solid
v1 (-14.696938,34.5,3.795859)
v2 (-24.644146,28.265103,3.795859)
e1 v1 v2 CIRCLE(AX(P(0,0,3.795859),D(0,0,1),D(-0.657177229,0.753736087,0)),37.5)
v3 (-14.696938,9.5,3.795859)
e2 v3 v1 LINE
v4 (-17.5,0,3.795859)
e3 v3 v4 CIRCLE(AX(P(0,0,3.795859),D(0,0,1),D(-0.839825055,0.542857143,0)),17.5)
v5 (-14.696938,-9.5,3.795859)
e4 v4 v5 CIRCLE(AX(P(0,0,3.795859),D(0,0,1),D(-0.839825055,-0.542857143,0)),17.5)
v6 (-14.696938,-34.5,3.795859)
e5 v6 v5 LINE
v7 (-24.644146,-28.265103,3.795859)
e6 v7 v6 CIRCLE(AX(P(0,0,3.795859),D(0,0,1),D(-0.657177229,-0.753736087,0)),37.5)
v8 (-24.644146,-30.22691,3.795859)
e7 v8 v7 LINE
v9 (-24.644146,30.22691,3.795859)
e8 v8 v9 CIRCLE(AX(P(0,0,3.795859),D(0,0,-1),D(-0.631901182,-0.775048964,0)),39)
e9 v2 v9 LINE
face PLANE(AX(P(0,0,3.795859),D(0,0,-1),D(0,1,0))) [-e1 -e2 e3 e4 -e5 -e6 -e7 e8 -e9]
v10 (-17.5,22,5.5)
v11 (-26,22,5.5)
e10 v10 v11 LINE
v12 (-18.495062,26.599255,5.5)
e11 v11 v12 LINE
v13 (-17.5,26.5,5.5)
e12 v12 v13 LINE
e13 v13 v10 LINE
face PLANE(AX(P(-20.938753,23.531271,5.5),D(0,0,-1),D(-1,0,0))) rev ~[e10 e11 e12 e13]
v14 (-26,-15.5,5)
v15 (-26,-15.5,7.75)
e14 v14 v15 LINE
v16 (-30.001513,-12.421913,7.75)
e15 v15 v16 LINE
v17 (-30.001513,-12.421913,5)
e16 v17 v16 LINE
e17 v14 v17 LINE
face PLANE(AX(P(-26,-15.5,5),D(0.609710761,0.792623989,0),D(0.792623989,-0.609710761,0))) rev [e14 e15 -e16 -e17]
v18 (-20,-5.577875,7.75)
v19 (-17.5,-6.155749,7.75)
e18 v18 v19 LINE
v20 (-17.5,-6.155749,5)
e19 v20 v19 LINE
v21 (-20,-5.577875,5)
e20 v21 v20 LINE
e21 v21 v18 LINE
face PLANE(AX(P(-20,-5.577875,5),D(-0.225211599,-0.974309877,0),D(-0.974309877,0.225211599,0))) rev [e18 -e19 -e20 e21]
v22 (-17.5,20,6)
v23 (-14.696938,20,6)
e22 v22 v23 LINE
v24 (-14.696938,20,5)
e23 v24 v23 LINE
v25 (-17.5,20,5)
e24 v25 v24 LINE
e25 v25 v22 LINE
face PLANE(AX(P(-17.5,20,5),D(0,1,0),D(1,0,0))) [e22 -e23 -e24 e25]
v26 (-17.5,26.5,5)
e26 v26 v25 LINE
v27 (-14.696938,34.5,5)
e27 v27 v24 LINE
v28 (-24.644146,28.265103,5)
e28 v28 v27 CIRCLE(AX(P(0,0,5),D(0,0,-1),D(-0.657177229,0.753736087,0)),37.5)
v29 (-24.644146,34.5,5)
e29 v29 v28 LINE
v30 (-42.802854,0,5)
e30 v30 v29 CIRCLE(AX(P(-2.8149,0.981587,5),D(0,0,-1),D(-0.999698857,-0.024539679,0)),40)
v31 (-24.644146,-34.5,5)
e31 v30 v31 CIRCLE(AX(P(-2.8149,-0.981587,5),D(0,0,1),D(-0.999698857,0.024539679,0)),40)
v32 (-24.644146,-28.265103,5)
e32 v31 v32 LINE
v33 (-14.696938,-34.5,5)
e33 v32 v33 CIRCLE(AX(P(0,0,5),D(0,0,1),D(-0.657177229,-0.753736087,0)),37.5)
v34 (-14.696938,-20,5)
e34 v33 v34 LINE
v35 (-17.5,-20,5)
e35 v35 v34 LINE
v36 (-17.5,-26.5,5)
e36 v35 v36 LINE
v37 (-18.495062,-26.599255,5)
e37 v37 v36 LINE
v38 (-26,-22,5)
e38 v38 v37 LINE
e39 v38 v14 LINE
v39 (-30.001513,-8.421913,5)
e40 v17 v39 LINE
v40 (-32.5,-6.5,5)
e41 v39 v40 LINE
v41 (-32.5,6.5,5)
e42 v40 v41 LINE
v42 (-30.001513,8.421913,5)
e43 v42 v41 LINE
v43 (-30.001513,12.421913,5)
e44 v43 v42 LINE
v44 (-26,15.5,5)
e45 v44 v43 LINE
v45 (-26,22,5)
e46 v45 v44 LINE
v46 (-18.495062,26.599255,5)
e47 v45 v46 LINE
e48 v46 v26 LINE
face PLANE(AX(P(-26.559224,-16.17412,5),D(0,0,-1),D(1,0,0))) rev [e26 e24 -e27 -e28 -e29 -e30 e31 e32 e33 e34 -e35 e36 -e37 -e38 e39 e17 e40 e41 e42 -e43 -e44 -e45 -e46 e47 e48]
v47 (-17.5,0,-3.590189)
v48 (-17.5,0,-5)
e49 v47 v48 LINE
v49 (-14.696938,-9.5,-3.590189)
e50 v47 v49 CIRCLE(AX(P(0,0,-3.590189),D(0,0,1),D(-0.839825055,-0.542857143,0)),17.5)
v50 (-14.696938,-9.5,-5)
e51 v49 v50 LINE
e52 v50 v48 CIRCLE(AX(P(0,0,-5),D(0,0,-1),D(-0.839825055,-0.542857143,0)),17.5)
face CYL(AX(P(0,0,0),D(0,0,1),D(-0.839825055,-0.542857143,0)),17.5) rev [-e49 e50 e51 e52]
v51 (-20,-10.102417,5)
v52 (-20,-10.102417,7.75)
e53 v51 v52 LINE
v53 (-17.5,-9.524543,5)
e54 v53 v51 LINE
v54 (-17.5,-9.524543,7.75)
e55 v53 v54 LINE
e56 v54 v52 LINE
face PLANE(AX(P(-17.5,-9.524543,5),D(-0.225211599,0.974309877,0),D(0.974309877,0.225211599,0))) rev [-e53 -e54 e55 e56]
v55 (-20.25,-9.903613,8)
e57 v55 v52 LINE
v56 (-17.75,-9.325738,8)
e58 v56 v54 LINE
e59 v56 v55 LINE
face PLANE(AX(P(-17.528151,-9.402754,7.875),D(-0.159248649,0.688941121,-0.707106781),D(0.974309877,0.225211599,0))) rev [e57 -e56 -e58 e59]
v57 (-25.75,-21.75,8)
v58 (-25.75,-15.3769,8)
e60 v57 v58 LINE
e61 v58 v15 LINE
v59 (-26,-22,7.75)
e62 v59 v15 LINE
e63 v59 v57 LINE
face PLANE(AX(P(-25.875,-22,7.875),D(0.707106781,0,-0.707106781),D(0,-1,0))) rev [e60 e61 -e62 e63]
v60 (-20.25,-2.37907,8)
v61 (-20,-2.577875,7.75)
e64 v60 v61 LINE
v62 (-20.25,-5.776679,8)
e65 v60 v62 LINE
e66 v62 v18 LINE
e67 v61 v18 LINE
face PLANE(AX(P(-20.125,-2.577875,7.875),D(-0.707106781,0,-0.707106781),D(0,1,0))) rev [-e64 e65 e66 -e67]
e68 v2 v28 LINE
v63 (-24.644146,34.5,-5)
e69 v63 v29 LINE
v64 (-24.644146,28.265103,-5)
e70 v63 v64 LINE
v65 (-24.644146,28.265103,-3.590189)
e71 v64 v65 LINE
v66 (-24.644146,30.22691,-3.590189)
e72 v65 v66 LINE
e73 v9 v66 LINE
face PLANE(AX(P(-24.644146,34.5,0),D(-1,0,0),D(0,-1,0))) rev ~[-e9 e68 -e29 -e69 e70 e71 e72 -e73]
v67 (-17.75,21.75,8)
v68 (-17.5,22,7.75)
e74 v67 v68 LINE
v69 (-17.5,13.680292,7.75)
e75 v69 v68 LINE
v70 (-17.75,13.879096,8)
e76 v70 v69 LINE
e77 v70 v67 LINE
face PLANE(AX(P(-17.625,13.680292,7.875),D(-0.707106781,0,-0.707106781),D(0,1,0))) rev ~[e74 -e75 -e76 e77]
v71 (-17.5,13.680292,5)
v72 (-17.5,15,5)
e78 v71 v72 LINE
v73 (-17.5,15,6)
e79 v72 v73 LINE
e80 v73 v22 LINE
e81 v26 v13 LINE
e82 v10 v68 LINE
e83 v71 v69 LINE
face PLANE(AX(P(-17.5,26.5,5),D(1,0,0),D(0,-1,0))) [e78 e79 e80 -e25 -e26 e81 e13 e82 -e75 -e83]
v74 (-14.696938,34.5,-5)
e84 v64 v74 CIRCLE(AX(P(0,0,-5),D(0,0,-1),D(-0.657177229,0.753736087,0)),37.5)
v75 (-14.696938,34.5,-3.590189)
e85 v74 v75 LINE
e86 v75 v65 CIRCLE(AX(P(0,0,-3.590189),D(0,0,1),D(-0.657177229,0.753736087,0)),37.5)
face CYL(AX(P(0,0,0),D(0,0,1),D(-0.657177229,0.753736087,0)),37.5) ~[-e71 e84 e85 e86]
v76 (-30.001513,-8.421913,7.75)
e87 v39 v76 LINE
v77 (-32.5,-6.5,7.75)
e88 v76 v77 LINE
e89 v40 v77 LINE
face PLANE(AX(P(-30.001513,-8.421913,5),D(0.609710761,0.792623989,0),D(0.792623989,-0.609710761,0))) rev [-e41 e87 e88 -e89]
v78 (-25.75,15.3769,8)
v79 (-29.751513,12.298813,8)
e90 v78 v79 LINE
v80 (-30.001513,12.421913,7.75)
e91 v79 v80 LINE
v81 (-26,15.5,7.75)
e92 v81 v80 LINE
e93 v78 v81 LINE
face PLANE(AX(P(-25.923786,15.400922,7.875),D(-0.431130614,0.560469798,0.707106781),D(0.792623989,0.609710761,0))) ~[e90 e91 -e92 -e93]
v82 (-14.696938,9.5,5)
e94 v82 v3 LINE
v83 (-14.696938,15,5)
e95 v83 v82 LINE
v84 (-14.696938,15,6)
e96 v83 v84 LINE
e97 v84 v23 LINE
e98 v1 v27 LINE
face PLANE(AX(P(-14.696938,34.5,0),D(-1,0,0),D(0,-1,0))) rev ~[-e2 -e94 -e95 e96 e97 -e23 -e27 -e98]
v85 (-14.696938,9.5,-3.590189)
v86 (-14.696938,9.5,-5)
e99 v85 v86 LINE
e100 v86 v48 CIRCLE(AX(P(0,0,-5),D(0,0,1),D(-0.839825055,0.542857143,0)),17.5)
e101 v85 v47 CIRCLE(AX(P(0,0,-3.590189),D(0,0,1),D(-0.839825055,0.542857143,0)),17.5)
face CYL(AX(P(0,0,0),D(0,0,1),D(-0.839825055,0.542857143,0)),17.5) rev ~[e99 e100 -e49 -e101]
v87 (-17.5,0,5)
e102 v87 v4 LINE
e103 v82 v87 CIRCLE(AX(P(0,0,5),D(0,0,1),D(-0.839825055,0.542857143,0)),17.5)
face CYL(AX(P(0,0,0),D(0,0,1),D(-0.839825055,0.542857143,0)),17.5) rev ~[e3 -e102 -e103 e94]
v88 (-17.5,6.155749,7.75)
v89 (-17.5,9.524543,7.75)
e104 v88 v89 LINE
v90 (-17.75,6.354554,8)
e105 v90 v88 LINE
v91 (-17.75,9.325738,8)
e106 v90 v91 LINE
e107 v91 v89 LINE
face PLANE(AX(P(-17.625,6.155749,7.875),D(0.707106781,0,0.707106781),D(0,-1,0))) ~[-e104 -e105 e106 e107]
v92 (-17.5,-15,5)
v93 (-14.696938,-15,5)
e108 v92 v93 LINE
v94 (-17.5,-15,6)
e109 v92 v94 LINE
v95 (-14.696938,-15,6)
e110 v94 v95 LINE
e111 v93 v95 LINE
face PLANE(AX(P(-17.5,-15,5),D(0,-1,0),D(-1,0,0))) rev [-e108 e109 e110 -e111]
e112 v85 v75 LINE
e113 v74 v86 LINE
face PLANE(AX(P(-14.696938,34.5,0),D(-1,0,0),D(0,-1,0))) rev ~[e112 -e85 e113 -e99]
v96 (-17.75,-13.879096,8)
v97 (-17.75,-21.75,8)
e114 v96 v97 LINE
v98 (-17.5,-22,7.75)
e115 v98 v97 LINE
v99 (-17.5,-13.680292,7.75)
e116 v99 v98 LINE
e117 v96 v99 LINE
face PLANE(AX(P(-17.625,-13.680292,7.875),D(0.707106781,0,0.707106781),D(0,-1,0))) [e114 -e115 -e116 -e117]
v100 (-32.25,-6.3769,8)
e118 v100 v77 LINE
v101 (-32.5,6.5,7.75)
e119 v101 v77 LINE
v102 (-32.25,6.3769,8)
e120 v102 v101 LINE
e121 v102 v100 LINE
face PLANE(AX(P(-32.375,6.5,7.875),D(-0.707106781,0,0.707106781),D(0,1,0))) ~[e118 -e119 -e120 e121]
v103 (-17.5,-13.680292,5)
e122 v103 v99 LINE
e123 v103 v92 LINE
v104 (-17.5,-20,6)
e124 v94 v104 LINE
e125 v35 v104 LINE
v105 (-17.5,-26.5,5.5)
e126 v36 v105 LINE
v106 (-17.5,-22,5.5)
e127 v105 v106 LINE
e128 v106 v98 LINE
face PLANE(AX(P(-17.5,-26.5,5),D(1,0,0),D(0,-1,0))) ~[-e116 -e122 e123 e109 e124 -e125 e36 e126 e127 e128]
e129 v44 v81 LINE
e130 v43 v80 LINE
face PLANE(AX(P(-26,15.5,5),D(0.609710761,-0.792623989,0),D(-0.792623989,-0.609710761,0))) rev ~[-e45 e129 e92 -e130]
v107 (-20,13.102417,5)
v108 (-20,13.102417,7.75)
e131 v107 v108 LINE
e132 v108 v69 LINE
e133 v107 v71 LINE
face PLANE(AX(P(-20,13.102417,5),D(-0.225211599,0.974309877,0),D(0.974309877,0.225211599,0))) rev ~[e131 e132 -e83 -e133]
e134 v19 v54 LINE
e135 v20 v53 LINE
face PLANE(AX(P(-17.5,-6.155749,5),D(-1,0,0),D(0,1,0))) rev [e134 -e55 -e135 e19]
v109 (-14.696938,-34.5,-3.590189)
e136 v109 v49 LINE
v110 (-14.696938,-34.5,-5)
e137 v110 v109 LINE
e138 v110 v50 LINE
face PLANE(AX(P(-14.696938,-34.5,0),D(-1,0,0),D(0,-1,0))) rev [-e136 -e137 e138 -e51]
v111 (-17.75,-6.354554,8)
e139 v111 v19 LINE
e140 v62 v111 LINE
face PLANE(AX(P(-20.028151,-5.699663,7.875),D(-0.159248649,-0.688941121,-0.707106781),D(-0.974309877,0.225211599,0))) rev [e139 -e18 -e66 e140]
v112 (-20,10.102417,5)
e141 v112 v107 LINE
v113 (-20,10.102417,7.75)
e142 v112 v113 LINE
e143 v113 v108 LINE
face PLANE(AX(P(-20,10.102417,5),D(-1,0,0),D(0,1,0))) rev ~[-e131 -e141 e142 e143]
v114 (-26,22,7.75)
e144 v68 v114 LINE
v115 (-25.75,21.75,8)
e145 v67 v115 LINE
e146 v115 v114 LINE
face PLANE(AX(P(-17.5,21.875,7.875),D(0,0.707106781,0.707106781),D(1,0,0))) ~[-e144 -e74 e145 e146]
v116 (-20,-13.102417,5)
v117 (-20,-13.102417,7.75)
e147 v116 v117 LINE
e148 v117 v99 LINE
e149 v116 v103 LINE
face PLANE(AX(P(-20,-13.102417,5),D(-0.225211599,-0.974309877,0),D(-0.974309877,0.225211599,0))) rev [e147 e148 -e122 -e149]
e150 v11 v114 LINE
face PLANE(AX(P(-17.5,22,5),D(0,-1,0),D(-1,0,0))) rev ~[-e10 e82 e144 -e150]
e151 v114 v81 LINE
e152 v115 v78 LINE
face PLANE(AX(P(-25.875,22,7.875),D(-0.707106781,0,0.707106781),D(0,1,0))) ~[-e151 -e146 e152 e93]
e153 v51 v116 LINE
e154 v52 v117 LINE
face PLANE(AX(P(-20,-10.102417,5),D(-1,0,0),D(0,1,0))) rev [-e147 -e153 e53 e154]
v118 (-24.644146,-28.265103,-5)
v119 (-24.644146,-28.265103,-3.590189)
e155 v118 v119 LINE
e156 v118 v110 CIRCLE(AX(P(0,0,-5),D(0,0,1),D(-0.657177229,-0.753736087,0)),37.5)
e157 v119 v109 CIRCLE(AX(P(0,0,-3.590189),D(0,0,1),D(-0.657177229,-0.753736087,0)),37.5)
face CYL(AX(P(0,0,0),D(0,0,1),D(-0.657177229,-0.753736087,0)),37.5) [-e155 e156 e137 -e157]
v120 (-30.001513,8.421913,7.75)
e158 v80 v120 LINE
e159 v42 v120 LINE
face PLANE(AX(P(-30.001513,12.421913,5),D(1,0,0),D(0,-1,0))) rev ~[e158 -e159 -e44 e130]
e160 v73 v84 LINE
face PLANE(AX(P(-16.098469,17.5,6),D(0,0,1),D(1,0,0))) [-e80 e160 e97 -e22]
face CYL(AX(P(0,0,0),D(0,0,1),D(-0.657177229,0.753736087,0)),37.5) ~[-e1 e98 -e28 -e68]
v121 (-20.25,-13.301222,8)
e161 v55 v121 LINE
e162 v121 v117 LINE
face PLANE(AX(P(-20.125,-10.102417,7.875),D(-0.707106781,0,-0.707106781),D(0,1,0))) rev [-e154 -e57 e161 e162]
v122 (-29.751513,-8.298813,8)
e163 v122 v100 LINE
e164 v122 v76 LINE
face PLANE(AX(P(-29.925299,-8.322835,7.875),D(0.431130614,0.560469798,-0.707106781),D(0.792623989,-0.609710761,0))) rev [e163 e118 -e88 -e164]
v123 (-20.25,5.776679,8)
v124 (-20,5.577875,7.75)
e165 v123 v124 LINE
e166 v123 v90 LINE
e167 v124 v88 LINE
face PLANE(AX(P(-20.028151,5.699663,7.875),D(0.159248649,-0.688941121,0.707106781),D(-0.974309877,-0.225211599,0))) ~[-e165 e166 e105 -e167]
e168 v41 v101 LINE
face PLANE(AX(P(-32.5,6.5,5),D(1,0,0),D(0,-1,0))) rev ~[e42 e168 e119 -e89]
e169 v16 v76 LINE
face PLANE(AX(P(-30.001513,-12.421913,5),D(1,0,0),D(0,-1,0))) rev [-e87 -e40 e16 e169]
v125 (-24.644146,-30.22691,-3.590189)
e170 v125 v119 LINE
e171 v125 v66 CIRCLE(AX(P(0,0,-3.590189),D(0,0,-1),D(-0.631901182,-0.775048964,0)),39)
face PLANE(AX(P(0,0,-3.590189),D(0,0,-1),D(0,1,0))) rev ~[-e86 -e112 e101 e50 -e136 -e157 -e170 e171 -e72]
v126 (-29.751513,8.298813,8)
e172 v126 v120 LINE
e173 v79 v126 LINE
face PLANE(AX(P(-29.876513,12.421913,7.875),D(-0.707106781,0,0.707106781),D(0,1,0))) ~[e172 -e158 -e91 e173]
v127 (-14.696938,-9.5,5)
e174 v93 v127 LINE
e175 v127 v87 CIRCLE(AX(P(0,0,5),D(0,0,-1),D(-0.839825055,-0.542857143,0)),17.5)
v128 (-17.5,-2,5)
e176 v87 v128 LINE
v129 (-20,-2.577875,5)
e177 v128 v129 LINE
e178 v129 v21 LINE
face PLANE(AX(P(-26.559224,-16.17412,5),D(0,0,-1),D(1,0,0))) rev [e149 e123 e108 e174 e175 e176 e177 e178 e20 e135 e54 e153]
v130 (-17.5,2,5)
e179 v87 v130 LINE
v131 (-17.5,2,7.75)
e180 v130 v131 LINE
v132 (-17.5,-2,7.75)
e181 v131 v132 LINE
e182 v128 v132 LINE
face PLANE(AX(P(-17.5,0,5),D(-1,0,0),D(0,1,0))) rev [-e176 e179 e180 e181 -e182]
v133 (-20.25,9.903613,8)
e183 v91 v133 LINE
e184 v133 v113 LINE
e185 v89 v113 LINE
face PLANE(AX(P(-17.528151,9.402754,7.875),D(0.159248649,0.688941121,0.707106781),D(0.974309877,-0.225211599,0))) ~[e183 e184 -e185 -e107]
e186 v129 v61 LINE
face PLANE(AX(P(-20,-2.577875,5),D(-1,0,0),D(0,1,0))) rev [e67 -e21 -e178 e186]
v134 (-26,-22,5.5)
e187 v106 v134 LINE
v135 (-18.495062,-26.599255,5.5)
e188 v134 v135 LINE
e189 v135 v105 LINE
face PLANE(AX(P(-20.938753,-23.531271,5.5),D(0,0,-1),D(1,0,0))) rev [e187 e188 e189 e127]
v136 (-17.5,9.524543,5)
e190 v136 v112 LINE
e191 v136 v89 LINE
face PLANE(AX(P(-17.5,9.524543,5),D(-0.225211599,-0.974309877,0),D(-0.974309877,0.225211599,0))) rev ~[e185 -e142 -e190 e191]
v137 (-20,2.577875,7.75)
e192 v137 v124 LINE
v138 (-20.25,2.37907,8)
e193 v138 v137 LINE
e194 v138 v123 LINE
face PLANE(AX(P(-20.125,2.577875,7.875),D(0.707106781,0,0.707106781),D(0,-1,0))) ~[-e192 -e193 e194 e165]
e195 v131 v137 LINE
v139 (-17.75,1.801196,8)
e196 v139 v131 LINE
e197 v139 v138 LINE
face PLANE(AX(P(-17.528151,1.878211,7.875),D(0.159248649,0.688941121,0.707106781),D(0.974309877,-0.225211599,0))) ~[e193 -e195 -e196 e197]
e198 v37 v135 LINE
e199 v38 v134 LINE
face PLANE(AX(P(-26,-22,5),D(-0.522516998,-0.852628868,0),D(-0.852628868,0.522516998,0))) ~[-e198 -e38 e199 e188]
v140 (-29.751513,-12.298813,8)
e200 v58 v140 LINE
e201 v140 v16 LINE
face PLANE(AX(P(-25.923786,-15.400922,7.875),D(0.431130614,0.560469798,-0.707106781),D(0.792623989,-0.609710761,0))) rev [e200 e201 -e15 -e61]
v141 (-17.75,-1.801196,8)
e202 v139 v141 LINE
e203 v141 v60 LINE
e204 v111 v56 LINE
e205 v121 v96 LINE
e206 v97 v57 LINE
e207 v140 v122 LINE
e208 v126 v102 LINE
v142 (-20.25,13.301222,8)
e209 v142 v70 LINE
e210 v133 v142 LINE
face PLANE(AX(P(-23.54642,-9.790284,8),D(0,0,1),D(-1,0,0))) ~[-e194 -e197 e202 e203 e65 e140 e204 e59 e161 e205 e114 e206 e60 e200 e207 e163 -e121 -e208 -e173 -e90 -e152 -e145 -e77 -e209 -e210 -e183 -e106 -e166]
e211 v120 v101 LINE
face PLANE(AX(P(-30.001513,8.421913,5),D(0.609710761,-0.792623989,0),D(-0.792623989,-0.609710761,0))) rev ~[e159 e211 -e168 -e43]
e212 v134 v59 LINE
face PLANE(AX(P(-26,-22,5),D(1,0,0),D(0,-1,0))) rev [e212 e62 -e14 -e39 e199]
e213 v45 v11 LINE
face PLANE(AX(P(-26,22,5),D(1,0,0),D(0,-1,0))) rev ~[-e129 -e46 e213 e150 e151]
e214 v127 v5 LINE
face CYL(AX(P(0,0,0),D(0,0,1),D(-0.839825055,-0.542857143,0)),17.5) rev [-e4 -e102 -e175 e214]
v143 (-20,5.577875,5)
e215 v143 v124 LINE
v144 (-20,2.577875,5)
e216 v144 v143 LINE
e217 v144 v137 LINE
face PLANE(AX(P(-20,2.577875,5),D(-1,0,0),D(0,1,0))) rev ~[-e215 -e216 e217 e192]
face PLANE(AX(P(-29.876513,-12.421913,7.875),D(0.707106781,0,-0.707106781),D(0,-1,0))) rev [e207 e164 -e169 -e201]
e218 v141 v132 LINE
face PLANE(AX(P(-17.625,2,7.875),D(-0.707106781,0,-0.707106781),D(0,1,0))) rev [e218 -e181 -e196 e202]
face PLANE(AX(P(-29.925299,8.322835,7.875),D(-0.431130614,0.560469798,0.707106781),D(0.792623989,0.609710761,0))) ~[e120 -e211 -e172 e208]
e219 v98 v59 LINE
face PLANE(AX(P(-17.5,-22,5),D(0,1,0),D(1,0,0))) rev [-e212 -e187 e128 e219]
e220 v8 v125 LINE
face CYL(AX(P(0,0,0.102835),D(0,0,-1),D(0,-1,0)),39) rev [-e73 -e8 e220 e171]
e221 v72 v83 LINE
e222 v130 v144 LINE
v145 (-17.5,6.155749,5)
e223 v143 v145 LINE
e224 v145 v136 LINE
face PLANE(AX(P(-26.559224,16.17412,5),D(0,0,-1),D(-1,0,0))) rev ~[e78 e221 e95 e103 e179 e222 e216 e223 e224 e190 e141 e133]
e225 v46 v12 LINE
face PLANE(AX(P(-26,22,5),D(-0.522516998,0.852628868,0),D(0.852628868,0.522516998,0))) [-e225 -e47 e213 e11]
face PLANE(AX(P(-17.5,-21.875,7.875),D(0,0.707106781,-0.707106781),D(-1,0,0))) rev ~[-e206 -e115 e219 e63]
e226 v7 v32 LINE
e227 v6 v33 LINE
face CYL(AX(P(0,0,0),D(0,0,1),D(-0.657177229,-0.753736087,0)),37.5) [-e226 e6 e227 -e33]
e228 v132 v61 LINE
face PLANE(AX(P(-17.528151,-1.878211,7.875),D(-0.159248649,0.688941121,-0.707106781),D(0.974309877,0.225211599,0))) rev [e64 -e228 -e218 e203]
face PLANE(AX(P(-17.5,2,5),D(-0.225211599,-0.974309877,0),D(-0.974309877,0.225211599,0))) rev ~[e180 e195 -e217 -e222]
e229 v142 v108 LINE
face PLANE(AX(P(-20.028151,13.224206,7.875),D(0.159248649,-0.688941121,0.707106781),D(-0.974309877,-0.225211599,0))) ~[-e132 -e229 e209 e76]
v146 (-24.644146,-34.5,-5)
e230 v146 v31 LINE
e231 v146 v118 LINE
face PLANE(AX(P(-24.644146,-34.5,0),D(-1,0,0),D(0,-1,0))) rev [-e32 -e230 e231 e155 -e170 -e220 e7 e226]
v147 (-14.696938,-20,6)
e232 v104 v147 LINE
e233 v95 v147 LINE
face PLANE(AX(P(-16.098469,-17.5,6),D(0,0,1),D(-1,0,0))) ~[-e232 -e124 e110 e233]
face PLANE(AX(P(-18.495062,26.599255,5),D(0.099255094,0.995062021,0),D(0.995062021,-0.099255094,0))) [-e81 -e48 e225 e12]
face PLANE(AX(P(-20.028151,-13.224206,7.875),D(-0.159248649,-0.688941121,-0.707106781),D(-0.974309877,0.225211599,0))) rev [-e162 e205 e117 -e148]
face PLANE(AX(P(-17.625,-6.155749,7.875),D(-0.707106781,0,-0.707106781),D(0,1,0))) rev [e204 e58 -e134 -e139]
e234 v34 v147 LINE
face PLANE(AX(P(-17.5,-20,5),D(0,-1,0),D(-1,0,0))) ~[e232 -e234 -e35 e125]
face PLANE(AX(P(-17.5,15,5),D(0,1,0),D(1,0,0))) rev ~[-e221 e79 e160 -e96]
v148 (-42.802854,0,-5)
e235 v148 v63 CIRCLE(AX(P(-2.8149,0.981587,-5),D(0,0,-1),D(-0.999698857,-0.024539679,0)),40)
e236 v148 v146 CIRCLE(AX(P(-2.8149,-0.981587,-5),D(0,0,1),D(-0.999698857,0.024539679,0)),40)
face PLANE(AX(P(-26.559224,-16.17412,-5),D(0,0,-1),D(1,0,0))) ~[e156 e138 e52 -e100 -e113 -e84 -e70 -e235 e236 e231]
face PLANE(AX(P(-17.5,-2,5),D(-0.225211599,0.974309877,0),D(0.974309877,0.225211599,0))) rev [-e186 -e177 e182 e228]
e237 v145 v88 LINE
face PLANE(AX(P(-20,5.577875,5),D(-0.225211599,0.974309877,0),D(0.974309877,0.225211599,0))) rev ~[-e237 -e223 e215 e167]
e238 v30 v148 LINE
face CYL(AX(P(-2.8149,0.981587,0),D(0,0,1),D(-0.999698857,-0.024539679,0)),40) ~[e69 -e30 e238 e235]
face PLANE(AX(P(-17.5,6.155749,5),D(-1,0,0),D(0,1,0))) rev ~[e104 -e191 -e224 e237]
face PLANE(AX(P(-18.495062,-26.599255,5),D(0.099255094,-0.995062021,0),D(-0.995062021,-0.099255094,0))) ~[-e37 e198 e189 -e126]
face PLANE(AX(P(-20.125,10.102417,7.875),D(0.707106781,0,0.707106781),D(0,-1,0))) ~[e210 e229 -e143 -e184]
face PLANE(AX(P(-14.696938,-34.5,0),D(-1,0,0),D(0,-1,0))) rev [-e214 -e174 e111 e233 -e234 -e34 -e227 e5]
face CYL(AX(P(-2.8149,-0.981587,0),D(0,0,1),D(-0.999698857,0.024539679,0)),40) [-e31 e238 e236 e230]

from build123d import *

# Parameters (mm, degrees)
BOSS_EXTRUDE1_DEPTH = 5
BOSS_EXTRUDE2_DEPTH = 3
SKETCH3_W           = 2.803061543
SKETCH3_H           = 5
BOSS_EXTRUDE3_DEPTH = 1
BOSS_EXTRUDE4_DEPTH = 0.5
SKETCH5_W           = 7.386047788
SKETCH5_H           = 39
CHAMFER2_SIZE       = 0.25


with BuildPart() as part:
    # Sketch1 → Boss-Extrude1 (new body, symmetric)
    with BuildSketch(Plane.XY):
        with BuildLine():
            Line((-14.696938457, 34.5), (-14.696938457, 9.5))
            ThreePointArc((-14.696938457, 9.5), (-16.784612343, 4.952452777), (-17.5, 0))
            Line((-17.5, 0), (-42.802853896, 0))
            ThreePointArc((-42.802853896, 0), (-38.211284713, 19.612097715), (-24.644146108, 34.5))
            Line((-24.644146108, 34.5), (-24.644146108, 28.265103266))
            ThreePointArc((-24.644146108, 28.265103266), (-19.916041725, 31.774223547), (-14.696938457, 34.5))
        make_face()
    boss_extrude1 = extrude(amount=BOSS_EXTRUDE1_DEPTH, both=True)

    # Sketch2 → Boss-Extrude2 (add)
    with BuildSketch(Plane.XY.offset(5)):
        Polygon((-26, 0), (-17.5, 0), (-17.5, 2), (-20, 2.577874668), (-20, 5.577874668), (-17.5, 6.155749336), (-17.5, 9.524542718), (-20, 10.102417386), (-20, 13.102417386), (-17.5, 13.680292054), (-17.5, 15), (-17.5, 22), (-26, 22), (-26, 15.5), (-30.001513248, 12.421912886), (-30.001513248, 8.421912886), (-32.5, 6.5), (-32.5, 0), align=None)
    boss_extrude2 = extrude(amount=BOSS_EXTRUDE2_DEPTH)

    # Sketch3 → Boss-Extrude3 (add)
    with BuildSketch(Plane.XY.offset(5)):
        with Locations((-16.098469229, 17.5)):
            Rectangle(SKETCH3_W, SKETCH3_H)
    boss_extrude3 = extrude(amount=BOSS_EXTRUDE3_DEPTH)

    # Sketch4 → Boss-Extrude4 (add)
    with BuildSketch(Plane.XY.offset(5)):
        Polygon((-26, 22), (-18.495062021, 26.599255094), (-17.5, 26.5), (-17.5, 22), align=None)
    boss_extrude4 = extrude(amount=BOSS_EXTRUDE4_DEPTH)

    # Sketch5 → Cut-Revolve1 (revolve, cut)
    with BuildSketch(Plane(origin=(0, 0, 0), x_dir=(0, 0, -1), z_dir=(1, 0, 0))):
        with Locations((-0.102834864, 19.5)):
            Rectangle(SKETCH5_W, SKETCH5_H)
    cut_revolve1 = revolve(axis=Axis((0, 0, 3.795858758), (0, 0, -1)), mode=Mode.SUBTRACT)

    # Mirror1: Boss-Extrude1, Boss-Extrude2, Boss-Extrude3, Boss-Extrude4, Cut-Revolve1 across plane
    add(boss_extrude1.mirror(Plane.ZX))
    add(boss_extrude2.mirror(Plane.ZX))
    add(boss_extrude3.mirror(Plane.ZX))
    add(boss_extrude4.mirror(Plane.ZX))
    add(cut_revolve1.mirror(Plane.ZX), mode=Mode.SUBTRACT)

    # Chamfer2
    chamfer2_edges = [part.edges().sort_by_distance(p)[0] for p in [
        (-20, -11.602417386, 8),
        (-18.75, -9.813480052, 8),
        (-17.5, -7.840146027, 8),
        (-18.75, -5.866812002, 8),
        (-31.250756624, -7.460956443, 8),
        (-30.001513248, -10.421912886, 8),
        (-28.000756624, -13.960956443, 8),
        (-21.75, -22, 8),
        (-18.75, -13.39135472, 8),
        (-20, -4.077874668, 8),
        (-18.75, -2.288937334, 8),
        (-26, -18.75, 8),
        (-17.5, -17.840146027, 8),
        (-17.5, 17.840146027, 8),
        (-26, 18.75, 8),
        (-18.75, 2.288937334, 8),
        (-20, 4.077874668, 8),
        (-20, 11.602417386, 8),
        (-18.75, 13.39135472, 8),
        (-21.75, 22, 8),
        (-28.000756624, 13.960956443, 8),
        (-30.001513248, 10.421912886, 8),
        (-31.250756624, 7.460956443, 8),
        (-32.5, 0, 8),
        (-17.5, 0, 8),
        (-18.75, 5.866812002, 8),
        (-17.5, 7.840146027, 8),
        (-18.75, 9.813480052, 8),
    ]]
    chamfer(chamfer2_edges, length=CHAMFER2_SIZE)


solid = part.part
